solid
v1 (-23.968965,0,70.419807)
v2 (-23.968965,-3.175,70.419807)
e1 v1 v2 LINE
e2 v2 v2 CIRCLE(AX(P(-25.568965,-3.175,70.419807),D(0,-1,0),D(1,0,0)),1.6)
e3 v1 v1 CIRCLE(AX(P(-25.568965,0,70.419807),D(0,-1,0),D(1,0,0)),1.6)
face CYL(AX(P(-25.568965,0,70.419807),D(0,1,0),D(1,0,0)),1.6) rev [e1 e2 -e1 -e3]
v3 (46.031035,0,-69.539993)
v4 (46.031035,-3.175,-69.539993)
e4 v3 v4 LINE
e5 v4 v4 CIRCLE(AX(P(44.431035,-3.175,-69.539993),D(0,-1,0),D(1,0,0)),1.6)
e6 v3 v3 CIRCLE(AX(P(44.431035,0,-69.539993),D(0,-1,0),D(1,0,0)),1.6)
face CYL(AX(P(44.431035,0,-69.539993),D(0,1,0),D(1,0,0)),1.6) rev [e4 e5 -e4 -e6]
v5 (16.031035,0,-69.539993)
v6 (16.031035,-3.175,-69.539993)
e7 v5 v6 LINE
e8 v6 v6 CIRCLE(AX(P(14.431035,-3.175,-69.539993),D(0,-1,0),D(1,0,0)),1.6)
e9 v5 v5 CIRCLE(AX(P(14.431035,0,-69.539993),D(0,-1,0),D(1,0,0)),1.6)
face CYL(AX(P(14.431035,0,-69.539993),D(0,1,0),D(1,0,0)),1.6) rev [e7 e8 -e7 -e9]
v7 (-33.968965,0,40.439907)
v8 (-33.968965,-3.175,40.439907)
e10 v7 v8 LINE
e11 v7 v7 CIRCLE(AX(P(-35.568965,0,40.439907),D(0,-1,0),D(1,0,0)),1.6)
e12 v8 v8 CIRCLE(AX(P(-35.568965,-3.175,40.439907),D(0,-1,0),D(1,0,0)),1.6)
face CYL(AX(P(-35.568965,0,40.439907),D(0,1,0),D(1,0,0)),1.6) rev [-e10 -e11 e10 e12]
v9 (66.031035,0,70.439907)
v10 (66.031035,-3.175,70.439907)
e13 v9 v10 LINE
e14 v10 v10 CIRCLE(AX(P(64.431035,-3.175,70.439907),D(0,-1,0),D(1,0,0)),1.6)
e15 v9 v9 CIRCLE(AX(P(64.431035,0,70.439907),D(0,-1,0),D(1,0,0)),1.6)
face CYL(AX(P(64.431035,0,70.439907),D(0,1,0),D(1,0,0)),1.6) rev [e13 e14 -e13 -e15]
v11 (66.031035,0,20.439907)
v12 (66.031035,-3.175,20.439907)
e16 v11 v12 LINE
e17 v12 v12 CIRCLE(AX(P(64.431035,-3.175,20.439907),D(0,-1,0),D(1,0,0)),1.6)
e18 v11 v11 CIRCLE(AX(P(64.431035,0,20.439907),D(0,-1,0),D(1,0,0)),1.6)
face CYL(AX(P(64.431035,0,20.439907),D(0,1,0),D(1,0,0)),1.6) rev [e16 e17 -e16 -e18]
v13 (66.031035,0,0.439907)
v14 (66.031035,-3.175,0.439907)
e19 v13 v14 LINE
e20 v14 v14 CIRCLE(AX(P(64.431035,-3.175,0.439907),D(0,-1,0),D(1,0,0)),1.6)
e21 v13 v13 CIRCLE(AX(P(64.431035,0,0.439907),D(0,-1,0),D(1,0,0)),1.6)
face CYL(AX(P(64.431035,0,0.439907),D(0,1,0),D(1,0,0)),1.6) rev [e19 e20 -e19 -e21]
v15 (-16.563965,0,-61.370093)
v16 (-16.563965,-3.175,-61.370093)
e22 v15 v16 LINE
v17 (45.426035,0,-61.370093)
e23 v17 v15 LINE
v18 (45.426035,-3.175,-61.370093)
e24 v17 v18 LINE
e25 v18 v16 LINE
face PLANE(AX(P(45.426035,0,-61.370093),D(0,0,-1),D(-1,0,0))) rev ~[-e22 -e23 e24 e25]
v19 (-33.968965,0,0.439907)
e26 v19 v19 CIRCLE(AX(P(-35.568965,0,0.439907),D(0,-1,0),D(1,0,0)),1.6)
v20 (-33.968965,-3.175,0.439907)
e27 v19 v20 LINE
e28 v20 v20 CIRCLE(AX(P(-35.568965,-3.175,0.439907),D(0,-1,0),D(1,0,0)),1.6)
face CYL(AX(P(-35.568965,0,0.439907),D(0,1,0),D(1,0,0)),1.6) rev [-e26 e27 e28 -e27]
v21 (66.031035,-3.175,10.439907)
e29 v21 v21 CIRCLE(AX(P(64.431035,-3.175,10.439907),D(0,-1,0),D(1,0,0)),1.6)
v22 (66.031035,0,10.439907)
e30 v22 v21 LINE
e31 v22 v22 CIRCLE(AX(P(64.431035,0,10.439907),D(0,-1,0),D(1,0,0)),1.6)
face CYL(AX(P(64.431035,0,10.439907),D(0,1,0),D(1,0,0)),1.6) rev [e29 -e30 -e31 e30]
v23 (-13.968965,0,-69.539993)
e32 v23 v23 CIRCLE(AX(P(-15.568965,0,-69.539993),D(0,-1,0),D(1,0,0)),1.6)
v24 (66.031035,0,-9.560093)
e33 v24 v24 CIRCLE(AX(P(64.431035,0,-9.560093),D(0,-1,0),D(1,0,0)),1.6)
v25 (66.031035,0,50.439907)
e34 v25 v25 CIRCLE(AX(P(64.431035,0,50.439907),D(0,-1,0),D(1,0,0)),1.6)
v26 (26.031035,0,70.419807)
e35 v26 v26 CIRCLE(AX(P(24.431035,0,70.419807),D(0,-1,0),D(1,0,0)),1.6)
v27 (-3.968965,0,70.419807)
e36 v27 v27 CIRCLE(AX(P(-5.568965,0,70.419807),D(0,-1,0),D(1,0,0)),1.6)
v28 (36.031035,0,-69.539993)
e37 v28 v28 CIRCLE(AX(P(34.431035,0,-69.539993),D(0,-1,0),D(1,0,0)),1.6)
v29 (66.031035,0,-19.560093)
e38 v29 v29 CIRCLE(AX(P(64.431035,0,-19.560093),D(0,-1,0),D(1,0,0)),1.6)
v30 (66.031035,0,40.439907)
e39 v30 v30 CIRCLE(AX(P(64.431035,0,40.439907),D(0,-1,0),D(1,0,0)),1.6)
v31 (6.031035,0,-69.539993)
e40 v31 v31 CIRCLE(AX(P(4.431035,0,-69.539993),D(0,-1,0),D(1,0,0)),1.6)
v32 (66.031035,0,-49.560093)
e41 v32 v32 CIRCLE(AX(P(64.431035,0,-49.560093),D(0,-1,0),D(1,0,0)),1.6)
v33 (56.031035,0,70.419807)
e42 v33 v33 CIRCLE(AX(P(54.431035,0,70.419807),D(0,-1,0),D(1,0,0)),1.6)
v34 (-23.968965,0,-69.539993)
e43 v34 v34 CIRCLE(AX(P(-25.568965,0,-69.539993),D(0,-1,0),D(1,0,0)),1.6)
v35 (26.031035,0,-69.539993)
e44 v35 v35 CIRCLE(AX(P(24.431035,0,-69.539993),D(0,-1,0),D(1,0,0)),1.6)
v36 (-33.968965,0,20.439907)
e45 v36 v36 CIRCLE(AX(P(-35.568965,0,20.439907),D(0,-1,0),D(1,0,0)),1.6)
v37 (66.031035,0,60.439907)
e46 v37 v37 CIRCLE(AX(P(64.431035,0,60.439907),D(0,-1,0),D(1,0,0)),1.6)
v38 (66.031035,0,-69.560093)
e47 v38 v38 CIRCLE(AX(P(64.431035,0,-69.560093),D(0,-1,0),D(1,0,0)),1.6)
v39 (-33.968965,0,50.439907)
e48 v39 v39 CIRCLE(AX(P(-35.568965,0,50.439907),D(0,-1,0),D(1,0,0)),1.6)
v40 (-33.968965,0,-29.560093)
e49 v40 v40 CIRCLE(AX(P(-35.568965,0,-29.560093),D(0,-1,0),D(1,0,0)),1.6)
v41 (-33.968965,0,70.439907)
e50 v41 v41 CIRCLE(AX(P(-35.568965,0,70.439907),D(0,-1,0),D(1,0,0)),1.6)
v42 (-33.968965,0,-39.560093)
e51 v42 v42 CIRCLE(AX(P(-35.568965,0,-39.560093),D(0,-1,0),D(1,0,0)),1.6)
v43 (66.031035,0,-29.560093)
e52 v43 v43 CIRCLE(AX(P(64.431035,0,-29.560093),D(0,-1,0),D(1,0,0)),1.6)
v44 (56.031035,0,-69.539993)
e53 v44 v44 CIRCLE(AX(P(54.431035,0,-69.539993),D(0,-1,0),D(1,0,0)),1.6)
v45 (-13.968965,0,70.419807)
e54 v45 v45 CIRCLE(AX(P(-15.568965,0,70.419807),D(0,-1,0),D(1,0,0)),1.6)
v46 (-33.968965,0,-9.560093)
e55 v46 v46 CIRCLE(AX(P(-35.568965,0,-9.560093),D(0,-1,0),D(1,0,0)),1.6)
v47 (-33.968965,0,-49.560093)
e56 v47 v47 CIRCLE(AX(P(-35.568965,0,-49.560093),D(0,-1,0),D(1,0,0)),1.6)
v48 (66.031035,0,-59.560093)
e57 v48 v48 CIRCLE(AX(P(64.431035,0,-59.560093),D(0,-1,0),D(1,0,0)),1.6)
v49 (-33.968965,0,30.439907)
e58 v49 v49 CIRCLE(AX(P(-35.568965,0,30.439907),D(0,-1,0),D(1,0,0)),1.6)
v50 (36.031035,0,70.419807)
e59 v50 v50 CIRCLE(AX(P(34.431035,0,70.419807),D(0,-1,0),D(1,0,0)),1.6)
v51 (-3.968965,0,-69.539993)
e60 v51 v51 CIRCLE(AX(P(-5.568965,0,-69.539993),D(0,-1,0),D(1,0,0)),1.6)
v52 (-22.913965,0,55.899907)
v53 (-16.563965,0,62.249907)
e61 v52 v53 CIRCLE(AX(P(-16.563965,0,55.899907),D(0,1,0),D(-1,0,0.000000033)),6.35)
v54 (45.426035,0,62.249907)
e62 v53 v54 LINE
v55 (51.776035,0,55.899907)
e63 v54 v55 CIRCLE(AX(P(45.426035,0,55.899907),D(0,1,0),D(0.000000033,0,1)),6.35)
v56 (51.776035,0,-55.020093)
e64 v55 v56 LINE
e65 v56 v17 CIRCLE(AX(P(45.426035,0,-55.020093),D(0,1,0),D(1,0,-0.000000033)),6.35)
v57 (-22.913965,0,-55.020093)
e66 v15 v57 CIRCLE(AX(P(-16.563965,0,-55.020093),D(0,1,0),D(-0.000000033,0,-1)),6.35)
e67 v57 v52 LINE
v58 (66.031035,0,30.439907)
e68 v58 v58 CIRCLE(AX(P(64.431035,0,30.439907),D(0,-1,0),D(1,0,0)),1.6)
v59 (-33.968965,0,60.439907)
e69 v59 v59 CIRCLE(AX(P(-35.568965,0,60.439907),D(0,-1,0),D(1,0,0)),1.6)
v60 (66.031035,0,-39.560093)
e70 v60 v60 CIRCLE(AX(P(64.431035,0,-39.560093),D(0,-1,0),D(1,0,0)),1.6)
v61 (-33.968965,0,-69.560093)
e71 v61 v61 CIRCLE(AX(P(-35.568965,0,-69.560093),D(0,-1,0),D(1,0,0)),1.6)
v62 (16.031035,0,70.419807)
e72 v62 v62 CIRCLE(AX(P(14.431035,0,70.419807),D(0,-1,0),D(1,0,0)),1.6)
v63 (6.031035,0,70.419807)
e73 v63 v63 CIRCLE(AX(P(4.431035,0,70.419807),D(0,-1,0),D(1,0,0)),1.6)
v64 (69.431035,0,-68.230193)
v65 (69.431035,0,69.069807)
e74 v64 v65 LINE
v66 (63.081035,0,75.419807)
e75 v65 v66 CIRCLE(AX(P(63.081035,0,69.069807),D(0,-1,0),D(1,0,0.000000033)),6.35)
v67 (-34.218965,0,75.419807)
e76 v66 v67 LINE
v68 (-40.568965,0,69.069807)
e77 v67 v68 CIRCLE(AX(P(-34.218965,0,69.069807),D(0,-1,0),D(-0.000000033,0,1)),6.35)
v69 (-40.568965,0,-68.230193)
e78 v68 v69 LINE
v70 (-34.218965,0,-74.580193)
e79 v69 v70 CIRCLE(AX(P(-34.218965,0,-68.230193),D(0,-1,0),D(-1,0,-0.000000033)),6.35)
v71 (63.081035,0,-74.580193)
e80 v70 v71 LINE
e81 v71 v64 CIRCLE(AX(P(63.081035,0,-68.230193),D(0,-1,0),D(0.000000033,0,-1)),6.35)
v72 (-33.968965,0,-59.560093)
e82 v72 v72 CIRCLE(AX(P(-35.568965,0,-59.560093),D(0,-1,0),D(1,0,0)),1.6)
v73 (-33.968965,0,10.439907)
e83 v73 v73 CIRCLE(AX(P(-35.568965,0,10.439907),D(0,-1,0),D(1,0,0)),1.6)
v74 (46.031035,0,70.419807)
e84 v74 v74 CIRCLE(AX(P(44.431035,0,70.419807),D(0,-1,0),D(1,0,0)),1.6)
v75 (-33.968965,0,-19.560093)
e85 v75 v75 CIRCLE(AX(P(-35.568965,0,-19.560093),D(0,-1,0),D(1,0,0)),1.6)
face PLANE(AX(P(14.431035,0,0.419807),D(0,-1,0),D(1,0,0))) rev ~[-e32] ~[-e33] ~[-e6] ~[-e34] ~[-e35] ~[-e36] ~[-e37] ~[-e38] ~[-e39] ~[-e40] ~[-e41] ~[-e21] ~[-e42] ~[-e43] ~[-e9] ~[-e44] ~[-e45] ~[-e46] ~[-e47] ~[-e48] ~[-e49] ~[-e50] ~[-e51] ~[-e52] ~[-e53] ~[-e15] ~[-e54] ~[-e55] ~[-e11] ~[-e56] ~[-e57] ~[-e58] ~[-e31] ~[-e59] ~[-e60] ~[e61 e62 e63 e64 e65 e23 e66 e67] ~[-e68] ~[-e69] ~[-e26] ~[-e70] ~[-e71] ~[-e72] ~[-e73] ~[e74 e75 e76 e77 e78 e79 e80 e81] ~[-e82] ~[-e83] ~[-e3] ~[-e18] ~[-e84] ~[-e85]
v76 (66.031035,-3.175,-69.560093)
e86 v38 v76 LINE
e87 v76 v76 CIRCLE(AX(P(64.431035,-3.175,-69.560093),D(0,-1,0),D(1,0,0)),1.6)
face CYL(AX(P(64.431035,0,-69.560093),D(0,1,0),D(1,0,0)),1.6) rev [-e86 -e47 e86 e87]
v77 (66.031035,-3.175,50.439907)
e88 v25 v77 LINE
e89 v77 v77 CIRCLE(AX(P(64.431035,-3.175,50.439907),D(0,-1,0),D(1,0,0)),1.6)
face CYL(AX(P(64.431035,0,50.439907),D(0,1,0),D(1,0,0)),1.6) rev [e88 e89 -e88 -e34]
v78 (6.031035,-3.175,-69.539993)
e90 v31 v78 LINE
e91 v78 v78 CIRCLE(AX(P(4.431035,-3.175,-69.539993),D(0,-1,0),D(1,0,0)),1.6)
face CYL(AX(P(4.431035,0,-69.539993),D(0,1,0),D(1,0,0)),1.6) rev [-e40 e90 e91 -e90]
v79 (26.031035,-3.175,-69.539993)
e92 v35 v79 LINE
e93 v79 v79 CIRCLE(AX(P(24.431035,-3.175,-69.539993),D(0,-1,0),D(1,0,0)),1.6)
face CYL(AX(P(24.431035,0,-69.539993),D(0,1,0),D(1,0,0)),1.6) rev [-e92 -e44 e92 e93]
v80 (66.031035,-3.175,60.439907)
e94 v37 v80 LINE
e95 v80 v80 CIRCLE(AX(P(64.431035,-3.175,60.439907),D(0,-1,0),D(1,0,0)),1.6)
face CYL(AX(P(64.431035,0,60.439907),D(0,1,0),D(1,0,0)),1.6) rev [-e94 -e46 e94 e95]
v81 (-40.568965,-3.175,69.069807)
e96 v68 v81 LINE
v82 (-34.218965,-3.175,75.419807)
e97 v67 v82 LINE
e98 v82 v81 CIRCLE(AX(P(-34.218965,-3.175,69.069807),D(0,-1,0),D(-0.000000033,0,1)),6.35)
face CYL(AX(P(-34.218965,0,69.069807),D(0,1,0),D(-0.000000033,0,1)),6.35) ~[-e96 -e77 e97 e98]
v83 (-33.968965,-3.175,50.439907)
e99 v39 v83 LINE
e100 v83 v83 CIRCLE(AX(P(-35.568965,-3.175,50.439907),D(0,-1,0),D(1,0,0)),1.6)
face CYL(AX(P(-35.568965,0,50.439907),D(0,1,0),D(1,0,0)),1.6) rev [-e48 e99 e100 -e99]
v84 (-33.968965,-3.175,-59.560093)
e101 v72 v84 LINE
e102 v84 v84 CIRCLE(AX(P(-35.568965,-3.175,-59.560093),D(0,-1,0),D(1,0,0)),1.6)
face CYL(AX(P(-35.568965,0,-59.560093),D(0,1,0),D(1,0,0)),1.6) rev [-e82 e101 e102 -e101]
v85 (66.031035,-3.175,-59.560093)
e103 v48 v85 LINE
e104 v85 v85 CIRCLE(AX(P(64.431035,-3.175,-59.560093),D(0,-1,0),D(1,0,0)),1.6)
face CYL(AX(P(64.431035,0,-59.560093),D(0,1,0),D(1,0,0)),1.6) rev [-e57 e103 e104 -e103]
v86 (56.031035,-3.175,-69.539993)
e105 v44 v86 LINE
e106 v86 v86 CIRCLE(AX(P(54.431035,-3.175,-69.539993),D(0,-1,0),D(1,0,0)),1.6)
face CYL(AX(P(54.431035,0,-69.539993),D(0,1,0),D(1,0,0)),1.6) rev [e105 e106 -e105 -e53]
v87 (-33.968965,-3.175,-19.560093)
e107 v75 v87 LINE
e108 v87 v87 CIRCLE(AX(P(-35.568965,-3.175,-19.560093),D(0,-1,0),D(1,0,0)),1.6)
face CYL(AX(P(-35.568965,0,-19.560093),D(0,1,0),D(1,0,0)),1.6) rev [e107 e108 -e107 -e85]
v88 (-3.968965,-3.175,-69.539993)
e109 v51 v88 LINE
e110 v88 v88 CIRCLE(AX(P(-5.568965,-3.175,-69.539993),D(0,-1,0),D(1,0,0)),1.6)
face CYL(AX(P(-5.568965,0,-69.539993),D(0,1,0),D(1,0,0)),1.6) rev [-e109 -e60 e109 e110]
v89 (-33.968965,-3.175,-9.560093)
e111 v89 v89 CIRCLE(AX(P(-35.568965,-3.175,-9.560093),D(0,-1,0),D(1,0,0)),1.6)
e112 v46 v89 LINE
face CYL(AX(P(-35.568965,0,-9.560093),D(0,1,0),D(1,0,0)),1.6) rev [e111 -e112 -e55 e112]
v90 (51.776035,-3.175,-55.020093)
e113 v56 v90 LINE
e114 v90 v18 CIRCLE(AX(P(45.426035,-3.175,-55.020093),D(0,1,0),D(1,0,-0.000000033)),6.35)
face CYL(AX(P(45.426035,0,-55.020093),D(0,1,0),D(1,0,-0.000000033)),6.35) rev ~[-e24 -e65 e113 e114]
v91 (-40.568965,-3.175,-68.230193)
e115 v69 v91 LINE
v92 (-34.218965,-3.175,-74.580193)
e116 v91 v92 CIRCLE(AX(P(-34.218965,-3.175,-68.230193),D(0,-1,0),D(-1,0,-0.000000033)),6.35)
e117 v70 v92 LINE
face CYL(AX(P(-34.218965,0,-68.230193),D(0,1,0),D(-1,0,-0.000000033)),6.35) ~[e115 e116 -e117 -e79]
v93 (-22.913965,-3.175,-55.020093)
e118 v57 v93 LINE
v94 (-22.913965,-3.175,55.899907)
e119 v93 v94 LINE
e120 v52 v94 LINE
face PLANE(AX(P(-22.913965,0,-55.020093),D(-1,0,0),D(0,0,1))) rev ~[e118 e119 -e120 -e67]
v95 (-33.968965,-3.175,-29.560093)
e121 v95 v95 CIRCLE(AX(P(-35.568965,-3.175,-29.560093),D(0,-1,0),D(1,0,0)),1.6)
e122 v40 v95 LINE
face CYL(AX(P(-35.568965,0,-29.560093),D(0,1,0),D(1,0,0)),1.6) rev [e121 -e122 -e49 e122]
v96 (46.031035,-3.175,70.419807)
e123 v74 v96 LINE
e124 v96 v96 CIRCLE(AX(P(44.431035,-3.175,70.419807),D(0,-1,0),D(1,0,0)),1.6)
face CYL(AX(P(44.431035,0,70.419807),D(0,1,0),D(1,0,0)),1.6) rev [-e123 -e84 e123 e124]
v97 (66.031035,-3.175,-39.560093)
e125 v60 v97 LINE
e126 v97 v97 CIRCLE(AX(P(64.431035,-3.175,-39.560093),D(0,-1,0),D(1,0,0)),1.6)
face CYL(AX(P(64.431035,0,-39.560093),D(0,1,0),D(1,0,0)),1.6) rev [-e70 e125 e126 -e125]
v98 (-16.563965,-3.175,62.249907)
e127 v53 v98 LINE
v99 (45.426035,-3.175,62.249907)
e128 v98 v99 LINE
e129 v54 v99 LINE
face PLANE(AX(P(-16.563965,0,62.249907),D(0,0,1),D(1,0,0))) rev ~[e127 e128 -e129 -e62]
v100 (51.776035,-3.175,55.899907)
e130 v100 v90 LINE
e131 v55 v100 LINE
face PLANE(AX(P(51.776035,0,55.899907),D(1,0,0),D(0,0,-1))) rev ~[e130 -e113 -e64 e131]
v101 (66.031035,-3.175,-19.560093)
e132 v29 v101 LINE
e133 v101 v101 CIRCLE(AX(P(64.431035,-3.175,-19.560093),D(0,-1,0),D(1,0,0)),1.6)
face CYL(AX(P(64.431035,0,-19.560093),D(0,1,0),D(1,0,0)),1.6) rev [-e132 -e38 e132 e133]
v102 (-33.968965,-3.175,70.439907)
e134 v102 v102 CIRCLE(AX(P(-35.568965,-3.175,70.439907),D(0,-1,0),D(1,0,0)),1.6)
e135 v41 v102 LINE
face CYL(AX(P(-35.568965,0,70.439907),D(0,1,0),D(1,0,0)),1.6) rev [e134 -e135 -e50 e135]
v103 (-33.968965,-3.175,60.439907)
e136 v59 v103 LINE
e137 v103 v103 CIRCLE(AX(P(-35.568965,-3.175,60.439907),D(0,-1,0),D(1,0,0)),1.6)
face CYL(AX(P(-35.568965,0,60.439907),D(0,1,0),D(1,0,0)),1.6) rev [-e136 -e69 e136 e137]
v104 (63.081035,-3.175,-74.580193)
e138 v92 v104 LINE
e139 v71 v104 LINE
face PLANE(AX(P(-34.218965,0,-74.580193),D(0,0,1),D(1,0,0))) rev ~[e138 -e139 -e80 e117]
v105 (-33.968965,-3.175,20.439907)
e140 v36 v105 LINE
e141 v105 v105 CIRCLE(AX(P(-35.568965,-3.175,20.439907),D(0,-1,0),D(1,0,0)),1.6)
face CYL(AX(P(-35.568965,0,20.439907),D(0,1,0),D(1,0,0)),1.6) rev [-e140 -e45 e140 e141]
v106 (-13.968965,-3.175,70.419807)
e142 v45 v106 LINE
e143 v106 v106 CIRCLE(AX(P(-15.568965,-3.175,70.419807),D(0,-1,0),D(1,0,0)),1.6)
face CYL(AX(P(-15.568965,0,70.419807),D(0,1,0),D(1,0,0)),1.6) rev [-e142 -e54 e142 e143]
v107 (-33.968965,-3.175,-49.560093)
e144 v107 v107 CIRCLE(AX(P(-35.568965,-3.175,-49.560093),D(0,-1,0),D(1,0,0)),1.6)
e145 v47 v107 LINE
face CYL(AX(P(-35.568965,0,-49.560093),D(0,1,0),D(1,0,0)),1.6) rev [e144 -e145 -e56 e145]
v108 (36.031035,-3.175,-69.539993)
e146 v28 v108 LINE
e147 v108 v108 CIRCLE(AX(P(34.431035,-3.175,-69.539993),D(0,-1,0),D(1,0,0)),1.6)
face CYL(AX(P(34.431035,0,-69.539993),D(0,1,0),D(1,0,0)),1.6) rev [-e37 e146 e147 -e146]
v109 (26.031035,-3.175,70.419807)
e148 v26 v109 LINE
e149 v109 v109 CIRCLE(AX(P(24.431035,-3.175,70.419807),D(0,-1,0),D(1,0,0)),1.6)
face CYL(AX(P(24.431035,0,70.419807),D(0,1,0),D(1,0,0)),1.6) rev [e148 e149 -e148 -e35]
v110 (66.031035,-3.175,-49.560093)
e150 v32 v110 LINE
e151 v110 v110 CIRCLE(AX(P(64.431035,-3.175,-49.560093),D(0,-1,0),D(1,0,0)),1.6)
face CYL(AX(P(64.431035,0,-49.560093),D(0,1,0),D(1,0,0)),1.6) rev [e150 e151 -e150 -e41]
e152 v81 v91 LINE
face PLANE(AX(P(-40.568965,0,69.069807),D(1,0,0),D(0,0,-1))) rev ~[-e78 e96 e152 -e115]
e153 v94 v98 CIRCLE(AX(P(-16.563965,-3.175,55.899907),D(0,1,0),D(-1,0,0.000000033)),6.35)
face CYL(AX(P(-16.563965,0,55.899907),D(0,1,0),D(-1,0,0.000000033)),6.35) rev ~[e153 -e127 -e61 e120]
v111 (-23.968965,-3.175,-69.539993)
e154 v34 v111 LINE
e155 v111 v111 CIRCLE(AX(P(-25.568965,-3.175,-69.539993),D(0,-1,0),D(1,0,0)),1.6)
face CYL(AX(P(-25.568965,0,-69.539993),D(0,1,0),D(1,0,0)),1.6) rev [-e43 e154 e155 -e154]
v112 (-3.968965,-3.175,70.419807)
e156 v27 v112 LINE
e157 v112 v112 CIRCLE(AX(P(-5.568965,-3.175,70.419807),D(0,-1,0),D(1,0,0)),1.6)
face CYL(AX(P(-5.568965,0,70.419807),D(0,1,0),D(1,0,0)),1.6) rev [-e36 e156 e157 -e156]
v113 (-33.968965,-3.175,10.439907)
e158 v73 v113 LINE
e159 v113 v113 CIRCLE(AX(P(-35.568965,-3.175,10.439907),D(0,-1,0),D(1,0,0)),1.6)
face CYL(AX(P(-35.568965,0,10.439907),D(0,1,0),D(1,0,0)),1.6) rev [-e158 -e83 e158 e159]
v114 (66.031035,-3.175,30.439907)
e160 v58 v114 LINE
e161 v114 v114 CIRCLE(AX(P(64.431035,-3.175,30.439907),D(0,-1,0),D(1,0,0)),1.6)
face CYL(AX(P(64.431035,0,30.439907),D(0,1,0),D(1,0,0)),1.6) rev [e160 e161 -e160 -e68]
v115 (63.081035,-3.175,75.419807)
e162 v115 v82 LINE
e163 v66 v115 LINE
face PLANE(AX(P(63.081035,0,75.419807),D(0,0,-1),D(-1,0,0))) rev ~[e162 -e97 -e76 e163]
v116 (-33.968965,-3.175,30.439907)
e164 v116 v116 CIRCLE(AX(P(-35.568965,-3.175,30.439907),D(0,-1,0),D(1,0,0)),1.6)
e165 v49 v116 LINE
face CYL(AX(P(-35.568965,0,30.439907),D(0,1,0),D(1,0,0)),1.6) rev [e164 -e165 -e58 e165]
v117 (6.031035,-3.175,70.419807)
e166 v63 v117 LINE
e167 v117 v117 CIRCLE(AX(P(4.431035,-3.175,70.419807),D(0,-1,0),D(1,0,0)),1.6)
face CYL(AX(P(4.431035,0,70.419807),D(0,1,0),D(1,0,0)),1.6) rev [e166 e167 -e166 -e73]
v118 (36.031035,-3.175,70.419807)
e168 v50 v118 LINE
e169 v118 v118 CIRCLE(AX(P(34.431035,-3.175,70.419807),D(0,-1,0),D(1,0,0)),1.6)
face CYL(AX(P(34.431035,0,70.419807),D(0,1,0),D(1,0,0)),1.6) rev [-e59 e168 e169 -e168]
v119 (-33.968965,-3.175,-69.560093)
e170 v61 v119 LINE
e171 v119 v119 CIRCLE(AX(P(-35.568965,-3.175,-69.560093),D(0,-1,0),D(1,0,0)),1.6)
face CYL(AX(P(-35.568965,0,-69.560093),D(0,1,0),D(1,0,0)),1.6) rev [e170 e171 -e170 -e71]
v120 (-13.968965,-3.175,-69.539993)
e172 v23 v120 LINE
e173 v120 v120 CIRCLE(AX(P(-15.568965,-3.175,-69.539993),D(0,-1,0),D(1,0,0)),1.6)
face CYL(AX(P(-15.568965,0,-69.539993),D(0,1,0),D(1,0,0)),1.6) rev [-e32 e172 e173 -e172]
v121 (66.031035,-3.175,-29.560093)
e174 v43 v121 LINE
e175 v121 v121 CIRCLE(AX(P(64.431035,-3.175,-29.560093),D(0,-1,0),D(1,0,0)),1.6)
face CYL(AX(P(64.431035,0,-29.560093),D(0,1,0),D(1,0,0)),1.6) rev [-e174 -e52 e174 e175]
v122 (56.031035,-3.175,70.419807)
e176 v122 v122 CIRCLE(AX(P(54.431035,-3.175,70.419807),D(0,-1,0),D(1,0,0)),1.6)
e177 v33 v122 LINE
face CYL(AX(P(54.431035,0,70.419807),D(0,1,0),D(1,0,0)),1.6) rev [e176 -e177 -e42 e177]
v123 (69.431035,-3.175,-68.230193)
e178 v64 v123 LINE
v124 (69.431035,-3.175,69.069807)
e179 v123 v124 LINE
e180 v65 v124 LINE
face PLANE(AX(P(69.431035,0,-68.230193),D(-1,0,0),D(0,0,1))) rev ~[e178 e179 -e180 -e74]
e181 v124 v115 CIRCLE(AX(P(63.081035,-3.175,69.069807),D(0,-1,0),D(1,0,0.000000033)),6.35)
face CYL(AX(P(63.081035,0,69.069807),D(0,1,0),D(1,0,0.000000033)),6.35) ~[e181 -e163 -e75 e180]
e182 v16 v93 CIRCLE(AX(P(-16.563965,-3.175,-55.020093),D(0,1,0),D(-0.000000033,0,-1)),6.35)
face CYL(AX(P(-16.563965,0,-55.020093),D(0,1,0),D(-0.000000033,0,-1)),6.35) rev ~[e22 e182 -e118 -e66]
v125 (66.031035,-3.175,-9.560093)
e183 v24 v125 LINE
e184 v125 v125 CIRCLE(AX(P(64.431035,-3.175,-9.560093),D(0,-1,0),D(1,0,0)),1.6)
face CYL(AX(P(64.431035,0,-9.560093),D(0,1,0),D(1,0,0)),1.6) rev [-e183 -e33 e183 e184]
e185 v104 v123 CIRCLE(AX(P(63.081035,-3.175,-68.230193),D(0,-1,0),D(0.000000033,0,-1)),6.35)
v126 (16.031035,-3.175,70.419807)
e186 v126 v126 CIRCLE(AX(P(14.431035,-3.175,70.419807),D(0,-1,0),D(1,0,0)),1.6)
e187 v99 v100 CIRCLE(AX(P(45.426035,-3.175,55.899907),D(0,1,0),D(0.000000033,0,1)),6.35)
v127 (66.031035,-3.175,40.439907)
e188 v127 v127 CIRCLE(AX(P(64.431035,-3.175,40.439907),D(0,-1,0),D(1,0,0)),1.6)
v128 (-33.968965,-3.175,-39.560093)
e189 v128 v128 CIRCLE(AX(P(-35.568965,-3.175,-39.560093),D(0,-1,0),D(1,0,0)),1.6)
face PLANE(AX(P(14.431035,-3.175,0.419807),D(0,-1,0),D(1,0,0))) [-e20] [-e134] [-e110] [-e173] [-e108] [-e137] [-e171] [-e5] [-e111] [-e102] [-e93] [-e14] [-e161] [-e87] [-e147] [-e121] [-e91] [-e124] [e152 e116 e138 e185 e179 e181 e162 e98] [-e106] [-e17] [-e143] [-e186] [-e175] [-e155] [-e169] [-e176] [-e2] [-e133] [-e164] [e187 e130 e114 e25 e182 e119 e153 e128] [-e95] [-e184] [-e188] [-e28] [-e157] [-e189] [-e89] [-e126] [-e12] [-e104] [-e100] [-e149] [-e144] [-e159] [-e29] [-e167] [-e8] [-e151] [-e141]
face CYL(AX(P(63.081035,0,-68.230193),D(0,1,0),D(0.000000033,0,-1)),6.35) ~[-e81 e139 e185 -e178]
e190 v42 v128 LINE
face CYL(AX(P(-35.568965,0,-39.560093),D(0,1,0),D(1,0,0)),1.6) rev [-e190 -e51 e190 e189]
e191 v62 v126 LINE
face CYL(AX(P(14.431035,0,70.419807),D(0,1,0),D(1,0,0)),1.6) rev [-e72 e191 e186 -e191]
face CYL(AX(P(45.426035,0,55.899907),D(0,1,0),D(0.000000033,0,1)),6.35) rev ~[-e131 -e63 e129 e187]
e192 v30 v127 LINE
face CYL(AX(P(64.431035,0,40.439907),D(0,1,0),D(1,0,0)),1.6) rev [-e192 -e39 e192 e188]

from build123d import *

# Parameters (mm, degrees)
F0_R     = 1.6
F1_DEPTH = 3.175


with BuildPart() as f1:
    # F0 (on Front) → F1 (new body)
    with BuildSketch(Plane.XZ):
        with BuildLine():
            Line((63.081035, 75.419807), (-34.218965, 75.419807))
            ThreePointArc((-34.218965, 75.419807), (-38.709093, 73.559935), (-40.568965, 69.069807))
            Line((-40.568965, 69.069807), (-40.568965, -68.230193))
            ThreePointArc((-40.568965, -68.230193), (-38.709093, -72.720321), (-34.218965, -74.580193))
            Line((-34.218965, -74.580193), (63.081035, -74.580193))
            ThreePointArc((63.081035, -74.580193), (67.571163, -72.720321), (69.431035, -68.230193))
            Line((69.431035, -68.230193), (69.431035, 69.069807))
            ThreePointArc((69.431035, 69.069807), (67.571163, 73.559935), (63.081035, 75.419807))
        make_face()
        with Locations((-35.568965, -69.560093)):
            Circle(F0_R, mode=Mode.SUBTRACT)
        with Locations((-35.568965, -59.560093)):
            Circle(F0_R, mode=Mode.SUBTRACT)
        with Locations((-25.568965, -69.539993)):
            Circle(F0_R, mode=Mode.SUBTRACT)
        with Locations((-15.568965, -69.539993)):
            Circle(F0_R, mode=Mode.SUBTRACT)
        with Locations((-35.568965, -49.560093)):
            Circle(F0_R, mode=Mode.SUBTRACT)
        with Locations((-35.568965, -39.560093)):
            Circle(F0_R, mode=Mode.SUBTRACT)
        with Locations((-5.568965, -69.539993)):
            Circle(F0_R, mode=Mode.SUBTRACT)
        with Locations((4.431035, -69.539993)):
            Circle(F0_R, mode=Mode.SUBTRACT)
        with Locations((14.431035, -69.539993)):
            Circle(F0_R, mode=Mode.SUBTRACT)
        with Locations((-35.568965, -29.560093)):
            Circle(F0_R, mode=Mode.SUBTRACT)
        with Locations((-35.568965, -19.560093)):
            Circle(F0_R, mode=Mode.SUBTRACT)
        with Locations((-35.568965, -9.560093)):
            Circle(F0_R, mode=Mode.SUBTRACT)
        with Locations((24.431035, -69.539993)):
            Circle(F0_R, mode=Mode.SUBTRACT)
        with Locations((34.431035, -69.539993)):
            Circle(F0_R, mode=Mode.SUBTRACT)
        with Locations((44.431035, -69.539993)):
            Circle(F0_R, mode=Mode.SUBTRACT)
        with Locations((54.431035, -69.539993)):
            Circle(F0_R, mode=Mode.SUBTRACT)
        with Locations((64.431035, -69.560093)):
            Circle(F0_R, mode=Mode.SUBTRACT)
        with Locations((64.431035, -59.560093)):
            Circle(F0_R, mode=Mode.SUBTRACT)
        with Locations((64.431035, -49.560093)):
            Circle(F0_R, mode=Mode.SUBTRACT)
        with Locations((64.431035, -39.560093)):
            Circle(F0_R, mode=Mode.SUBTRACT)
        with Locations((64.431035, -29.560093)):
            Circle(F0_R, mode=Mode.SUBTRACT)
        with Locations((64.431035, -19.560093)):
            Circle(F0_R, mode=Mode.SUBTRACT)
        with Locations((64.431035, -9.560093)):
            Circle(F0_R, mode=Mode.SUBTRACT)
        with Locations((-35.568965, 0.439907)):
            Circle(F0_R, mode=Mode.SUBTRACT)
        with Locations((-35.568965, 10.439907)):
            Circle(F0_R, mode=Mode.SUBTRACT)
        with Locations((-35.568965, 20.439907)):
            Circle(F0_R, mode=Mode.SUBTRACT)
        with Locations((-35.568965, 30.439907)):
            Circle(F0_R, mode=Mode.SUBTRACT)
        with Locations((-35.568965, 40.439907)):
            Circle(F0_R, mode=Mode.SUBTRACT)
        with Locations((-35.568965, 50.439907)):
            Circle(F0_R, mode=Mode.SUBTRACT)
        with Locations((-35.568965, 60.439907)):
            Circle(F0_R, mode=Mode.SUBTRACT)
        with Locations((-35.568965, 70.439907)):
            Circle(F0_R, mode=Mode.SUBTRACT)
        with Locations((-25.568965, 70.419807)):
            Circle(F0_R, mode=Mode.SUBTRACT)
        with Locations((-15.568965, 70.419807)):
            Circle(F0_R, mode=Mode.SUBTRACT)
        with Locations((-5.568965, 70.419807)):
            Circle(F0_R, mode=Mode.SUBTRACT)
        with Locations((4.431035, 70.419807)):
            Circle(F0_R, mode=Mode.SUBTRACT)
        with Locations((14.431035, 70.419807)):
            Circle(F0_R, mode=Mode.SUBTRACT)
        with BuildLine():
            ThreePointArc((-22.913965, 55.899907), (-21.054093, 60.390035), (-16.563965, 62.249907))
            Line((-16.563965, 62.249907), (45.426035, 62.249907))
            ThreePointArc((45.426035, 62.249907), (49.916163, 60.390035), (51.776035, 55.899907))
            Line((51.776035, 55.899907), (51.776035, -55.020093))
            ThreePointArc((51.776035, -55.020093), (49.916163, -59.510221), (45.426035, -61.370093))
            Line((45.426035, -61.370093), (-16.563965, -61.370093))
            ThreePointArc((-16.563965, -61.370093), (-21.054093, -59.510221), (-22.913965, -55.020093))
            Line((-22.913965, -55.020093), (-22.913965, 55.899907))
        make_face(mode=Mode.SUBTRACT)
        with Locations((64.431035, 0.439907)):
            Circle(F0_R, mode=Mode.SUBTRACT)
        with Locations((64.431035, 10.439907)):
            Circle(F0_R, mode=Mode.SUBTRACT)
        with Locations((64.431035, 20.439907)):
            Circle(F0_R, mode=Mode.SUBTRACT)
        with Locations((64.431035, 30.439907)):
            Circle(F0_R, mode=Mode.SUBTRACT)
        with Locations((24.431035, 70.419807)):
            Circle(F0_R, mode=Mode.SUBTRACT)
        with Locations((34.431035, 70.419807)):
            Circle(F0_R, mode=Mode.SUBTRACT)
        with Locations((64.431035, 40.439907)):
            Circle(F0_R, mode=Mode.SUBTRACT)
        with Locations((64.431035, 50.439907)):
            Circle(F0_R, mode=Mode.SUBTRACT)
        with Locations((44.431035, 70.419807)):
            Circle(F0_R, mode=Mode.SUBTRACT)
        with Locations((54.431035, 70.419807)):
            Circle(F0_R, mode=Mode.SUBTRACT)
        with Locations((64.431035, 60.439907)):
            Circle(F0_R, mode=Mode.SUBTRACT)
        with Locations((64.431035, 70.439907)):
            Circle(F0_R, mode=Mode.SUBTRACT)
    extrude(amount=F1_DEPTH)


solid = f1.part
